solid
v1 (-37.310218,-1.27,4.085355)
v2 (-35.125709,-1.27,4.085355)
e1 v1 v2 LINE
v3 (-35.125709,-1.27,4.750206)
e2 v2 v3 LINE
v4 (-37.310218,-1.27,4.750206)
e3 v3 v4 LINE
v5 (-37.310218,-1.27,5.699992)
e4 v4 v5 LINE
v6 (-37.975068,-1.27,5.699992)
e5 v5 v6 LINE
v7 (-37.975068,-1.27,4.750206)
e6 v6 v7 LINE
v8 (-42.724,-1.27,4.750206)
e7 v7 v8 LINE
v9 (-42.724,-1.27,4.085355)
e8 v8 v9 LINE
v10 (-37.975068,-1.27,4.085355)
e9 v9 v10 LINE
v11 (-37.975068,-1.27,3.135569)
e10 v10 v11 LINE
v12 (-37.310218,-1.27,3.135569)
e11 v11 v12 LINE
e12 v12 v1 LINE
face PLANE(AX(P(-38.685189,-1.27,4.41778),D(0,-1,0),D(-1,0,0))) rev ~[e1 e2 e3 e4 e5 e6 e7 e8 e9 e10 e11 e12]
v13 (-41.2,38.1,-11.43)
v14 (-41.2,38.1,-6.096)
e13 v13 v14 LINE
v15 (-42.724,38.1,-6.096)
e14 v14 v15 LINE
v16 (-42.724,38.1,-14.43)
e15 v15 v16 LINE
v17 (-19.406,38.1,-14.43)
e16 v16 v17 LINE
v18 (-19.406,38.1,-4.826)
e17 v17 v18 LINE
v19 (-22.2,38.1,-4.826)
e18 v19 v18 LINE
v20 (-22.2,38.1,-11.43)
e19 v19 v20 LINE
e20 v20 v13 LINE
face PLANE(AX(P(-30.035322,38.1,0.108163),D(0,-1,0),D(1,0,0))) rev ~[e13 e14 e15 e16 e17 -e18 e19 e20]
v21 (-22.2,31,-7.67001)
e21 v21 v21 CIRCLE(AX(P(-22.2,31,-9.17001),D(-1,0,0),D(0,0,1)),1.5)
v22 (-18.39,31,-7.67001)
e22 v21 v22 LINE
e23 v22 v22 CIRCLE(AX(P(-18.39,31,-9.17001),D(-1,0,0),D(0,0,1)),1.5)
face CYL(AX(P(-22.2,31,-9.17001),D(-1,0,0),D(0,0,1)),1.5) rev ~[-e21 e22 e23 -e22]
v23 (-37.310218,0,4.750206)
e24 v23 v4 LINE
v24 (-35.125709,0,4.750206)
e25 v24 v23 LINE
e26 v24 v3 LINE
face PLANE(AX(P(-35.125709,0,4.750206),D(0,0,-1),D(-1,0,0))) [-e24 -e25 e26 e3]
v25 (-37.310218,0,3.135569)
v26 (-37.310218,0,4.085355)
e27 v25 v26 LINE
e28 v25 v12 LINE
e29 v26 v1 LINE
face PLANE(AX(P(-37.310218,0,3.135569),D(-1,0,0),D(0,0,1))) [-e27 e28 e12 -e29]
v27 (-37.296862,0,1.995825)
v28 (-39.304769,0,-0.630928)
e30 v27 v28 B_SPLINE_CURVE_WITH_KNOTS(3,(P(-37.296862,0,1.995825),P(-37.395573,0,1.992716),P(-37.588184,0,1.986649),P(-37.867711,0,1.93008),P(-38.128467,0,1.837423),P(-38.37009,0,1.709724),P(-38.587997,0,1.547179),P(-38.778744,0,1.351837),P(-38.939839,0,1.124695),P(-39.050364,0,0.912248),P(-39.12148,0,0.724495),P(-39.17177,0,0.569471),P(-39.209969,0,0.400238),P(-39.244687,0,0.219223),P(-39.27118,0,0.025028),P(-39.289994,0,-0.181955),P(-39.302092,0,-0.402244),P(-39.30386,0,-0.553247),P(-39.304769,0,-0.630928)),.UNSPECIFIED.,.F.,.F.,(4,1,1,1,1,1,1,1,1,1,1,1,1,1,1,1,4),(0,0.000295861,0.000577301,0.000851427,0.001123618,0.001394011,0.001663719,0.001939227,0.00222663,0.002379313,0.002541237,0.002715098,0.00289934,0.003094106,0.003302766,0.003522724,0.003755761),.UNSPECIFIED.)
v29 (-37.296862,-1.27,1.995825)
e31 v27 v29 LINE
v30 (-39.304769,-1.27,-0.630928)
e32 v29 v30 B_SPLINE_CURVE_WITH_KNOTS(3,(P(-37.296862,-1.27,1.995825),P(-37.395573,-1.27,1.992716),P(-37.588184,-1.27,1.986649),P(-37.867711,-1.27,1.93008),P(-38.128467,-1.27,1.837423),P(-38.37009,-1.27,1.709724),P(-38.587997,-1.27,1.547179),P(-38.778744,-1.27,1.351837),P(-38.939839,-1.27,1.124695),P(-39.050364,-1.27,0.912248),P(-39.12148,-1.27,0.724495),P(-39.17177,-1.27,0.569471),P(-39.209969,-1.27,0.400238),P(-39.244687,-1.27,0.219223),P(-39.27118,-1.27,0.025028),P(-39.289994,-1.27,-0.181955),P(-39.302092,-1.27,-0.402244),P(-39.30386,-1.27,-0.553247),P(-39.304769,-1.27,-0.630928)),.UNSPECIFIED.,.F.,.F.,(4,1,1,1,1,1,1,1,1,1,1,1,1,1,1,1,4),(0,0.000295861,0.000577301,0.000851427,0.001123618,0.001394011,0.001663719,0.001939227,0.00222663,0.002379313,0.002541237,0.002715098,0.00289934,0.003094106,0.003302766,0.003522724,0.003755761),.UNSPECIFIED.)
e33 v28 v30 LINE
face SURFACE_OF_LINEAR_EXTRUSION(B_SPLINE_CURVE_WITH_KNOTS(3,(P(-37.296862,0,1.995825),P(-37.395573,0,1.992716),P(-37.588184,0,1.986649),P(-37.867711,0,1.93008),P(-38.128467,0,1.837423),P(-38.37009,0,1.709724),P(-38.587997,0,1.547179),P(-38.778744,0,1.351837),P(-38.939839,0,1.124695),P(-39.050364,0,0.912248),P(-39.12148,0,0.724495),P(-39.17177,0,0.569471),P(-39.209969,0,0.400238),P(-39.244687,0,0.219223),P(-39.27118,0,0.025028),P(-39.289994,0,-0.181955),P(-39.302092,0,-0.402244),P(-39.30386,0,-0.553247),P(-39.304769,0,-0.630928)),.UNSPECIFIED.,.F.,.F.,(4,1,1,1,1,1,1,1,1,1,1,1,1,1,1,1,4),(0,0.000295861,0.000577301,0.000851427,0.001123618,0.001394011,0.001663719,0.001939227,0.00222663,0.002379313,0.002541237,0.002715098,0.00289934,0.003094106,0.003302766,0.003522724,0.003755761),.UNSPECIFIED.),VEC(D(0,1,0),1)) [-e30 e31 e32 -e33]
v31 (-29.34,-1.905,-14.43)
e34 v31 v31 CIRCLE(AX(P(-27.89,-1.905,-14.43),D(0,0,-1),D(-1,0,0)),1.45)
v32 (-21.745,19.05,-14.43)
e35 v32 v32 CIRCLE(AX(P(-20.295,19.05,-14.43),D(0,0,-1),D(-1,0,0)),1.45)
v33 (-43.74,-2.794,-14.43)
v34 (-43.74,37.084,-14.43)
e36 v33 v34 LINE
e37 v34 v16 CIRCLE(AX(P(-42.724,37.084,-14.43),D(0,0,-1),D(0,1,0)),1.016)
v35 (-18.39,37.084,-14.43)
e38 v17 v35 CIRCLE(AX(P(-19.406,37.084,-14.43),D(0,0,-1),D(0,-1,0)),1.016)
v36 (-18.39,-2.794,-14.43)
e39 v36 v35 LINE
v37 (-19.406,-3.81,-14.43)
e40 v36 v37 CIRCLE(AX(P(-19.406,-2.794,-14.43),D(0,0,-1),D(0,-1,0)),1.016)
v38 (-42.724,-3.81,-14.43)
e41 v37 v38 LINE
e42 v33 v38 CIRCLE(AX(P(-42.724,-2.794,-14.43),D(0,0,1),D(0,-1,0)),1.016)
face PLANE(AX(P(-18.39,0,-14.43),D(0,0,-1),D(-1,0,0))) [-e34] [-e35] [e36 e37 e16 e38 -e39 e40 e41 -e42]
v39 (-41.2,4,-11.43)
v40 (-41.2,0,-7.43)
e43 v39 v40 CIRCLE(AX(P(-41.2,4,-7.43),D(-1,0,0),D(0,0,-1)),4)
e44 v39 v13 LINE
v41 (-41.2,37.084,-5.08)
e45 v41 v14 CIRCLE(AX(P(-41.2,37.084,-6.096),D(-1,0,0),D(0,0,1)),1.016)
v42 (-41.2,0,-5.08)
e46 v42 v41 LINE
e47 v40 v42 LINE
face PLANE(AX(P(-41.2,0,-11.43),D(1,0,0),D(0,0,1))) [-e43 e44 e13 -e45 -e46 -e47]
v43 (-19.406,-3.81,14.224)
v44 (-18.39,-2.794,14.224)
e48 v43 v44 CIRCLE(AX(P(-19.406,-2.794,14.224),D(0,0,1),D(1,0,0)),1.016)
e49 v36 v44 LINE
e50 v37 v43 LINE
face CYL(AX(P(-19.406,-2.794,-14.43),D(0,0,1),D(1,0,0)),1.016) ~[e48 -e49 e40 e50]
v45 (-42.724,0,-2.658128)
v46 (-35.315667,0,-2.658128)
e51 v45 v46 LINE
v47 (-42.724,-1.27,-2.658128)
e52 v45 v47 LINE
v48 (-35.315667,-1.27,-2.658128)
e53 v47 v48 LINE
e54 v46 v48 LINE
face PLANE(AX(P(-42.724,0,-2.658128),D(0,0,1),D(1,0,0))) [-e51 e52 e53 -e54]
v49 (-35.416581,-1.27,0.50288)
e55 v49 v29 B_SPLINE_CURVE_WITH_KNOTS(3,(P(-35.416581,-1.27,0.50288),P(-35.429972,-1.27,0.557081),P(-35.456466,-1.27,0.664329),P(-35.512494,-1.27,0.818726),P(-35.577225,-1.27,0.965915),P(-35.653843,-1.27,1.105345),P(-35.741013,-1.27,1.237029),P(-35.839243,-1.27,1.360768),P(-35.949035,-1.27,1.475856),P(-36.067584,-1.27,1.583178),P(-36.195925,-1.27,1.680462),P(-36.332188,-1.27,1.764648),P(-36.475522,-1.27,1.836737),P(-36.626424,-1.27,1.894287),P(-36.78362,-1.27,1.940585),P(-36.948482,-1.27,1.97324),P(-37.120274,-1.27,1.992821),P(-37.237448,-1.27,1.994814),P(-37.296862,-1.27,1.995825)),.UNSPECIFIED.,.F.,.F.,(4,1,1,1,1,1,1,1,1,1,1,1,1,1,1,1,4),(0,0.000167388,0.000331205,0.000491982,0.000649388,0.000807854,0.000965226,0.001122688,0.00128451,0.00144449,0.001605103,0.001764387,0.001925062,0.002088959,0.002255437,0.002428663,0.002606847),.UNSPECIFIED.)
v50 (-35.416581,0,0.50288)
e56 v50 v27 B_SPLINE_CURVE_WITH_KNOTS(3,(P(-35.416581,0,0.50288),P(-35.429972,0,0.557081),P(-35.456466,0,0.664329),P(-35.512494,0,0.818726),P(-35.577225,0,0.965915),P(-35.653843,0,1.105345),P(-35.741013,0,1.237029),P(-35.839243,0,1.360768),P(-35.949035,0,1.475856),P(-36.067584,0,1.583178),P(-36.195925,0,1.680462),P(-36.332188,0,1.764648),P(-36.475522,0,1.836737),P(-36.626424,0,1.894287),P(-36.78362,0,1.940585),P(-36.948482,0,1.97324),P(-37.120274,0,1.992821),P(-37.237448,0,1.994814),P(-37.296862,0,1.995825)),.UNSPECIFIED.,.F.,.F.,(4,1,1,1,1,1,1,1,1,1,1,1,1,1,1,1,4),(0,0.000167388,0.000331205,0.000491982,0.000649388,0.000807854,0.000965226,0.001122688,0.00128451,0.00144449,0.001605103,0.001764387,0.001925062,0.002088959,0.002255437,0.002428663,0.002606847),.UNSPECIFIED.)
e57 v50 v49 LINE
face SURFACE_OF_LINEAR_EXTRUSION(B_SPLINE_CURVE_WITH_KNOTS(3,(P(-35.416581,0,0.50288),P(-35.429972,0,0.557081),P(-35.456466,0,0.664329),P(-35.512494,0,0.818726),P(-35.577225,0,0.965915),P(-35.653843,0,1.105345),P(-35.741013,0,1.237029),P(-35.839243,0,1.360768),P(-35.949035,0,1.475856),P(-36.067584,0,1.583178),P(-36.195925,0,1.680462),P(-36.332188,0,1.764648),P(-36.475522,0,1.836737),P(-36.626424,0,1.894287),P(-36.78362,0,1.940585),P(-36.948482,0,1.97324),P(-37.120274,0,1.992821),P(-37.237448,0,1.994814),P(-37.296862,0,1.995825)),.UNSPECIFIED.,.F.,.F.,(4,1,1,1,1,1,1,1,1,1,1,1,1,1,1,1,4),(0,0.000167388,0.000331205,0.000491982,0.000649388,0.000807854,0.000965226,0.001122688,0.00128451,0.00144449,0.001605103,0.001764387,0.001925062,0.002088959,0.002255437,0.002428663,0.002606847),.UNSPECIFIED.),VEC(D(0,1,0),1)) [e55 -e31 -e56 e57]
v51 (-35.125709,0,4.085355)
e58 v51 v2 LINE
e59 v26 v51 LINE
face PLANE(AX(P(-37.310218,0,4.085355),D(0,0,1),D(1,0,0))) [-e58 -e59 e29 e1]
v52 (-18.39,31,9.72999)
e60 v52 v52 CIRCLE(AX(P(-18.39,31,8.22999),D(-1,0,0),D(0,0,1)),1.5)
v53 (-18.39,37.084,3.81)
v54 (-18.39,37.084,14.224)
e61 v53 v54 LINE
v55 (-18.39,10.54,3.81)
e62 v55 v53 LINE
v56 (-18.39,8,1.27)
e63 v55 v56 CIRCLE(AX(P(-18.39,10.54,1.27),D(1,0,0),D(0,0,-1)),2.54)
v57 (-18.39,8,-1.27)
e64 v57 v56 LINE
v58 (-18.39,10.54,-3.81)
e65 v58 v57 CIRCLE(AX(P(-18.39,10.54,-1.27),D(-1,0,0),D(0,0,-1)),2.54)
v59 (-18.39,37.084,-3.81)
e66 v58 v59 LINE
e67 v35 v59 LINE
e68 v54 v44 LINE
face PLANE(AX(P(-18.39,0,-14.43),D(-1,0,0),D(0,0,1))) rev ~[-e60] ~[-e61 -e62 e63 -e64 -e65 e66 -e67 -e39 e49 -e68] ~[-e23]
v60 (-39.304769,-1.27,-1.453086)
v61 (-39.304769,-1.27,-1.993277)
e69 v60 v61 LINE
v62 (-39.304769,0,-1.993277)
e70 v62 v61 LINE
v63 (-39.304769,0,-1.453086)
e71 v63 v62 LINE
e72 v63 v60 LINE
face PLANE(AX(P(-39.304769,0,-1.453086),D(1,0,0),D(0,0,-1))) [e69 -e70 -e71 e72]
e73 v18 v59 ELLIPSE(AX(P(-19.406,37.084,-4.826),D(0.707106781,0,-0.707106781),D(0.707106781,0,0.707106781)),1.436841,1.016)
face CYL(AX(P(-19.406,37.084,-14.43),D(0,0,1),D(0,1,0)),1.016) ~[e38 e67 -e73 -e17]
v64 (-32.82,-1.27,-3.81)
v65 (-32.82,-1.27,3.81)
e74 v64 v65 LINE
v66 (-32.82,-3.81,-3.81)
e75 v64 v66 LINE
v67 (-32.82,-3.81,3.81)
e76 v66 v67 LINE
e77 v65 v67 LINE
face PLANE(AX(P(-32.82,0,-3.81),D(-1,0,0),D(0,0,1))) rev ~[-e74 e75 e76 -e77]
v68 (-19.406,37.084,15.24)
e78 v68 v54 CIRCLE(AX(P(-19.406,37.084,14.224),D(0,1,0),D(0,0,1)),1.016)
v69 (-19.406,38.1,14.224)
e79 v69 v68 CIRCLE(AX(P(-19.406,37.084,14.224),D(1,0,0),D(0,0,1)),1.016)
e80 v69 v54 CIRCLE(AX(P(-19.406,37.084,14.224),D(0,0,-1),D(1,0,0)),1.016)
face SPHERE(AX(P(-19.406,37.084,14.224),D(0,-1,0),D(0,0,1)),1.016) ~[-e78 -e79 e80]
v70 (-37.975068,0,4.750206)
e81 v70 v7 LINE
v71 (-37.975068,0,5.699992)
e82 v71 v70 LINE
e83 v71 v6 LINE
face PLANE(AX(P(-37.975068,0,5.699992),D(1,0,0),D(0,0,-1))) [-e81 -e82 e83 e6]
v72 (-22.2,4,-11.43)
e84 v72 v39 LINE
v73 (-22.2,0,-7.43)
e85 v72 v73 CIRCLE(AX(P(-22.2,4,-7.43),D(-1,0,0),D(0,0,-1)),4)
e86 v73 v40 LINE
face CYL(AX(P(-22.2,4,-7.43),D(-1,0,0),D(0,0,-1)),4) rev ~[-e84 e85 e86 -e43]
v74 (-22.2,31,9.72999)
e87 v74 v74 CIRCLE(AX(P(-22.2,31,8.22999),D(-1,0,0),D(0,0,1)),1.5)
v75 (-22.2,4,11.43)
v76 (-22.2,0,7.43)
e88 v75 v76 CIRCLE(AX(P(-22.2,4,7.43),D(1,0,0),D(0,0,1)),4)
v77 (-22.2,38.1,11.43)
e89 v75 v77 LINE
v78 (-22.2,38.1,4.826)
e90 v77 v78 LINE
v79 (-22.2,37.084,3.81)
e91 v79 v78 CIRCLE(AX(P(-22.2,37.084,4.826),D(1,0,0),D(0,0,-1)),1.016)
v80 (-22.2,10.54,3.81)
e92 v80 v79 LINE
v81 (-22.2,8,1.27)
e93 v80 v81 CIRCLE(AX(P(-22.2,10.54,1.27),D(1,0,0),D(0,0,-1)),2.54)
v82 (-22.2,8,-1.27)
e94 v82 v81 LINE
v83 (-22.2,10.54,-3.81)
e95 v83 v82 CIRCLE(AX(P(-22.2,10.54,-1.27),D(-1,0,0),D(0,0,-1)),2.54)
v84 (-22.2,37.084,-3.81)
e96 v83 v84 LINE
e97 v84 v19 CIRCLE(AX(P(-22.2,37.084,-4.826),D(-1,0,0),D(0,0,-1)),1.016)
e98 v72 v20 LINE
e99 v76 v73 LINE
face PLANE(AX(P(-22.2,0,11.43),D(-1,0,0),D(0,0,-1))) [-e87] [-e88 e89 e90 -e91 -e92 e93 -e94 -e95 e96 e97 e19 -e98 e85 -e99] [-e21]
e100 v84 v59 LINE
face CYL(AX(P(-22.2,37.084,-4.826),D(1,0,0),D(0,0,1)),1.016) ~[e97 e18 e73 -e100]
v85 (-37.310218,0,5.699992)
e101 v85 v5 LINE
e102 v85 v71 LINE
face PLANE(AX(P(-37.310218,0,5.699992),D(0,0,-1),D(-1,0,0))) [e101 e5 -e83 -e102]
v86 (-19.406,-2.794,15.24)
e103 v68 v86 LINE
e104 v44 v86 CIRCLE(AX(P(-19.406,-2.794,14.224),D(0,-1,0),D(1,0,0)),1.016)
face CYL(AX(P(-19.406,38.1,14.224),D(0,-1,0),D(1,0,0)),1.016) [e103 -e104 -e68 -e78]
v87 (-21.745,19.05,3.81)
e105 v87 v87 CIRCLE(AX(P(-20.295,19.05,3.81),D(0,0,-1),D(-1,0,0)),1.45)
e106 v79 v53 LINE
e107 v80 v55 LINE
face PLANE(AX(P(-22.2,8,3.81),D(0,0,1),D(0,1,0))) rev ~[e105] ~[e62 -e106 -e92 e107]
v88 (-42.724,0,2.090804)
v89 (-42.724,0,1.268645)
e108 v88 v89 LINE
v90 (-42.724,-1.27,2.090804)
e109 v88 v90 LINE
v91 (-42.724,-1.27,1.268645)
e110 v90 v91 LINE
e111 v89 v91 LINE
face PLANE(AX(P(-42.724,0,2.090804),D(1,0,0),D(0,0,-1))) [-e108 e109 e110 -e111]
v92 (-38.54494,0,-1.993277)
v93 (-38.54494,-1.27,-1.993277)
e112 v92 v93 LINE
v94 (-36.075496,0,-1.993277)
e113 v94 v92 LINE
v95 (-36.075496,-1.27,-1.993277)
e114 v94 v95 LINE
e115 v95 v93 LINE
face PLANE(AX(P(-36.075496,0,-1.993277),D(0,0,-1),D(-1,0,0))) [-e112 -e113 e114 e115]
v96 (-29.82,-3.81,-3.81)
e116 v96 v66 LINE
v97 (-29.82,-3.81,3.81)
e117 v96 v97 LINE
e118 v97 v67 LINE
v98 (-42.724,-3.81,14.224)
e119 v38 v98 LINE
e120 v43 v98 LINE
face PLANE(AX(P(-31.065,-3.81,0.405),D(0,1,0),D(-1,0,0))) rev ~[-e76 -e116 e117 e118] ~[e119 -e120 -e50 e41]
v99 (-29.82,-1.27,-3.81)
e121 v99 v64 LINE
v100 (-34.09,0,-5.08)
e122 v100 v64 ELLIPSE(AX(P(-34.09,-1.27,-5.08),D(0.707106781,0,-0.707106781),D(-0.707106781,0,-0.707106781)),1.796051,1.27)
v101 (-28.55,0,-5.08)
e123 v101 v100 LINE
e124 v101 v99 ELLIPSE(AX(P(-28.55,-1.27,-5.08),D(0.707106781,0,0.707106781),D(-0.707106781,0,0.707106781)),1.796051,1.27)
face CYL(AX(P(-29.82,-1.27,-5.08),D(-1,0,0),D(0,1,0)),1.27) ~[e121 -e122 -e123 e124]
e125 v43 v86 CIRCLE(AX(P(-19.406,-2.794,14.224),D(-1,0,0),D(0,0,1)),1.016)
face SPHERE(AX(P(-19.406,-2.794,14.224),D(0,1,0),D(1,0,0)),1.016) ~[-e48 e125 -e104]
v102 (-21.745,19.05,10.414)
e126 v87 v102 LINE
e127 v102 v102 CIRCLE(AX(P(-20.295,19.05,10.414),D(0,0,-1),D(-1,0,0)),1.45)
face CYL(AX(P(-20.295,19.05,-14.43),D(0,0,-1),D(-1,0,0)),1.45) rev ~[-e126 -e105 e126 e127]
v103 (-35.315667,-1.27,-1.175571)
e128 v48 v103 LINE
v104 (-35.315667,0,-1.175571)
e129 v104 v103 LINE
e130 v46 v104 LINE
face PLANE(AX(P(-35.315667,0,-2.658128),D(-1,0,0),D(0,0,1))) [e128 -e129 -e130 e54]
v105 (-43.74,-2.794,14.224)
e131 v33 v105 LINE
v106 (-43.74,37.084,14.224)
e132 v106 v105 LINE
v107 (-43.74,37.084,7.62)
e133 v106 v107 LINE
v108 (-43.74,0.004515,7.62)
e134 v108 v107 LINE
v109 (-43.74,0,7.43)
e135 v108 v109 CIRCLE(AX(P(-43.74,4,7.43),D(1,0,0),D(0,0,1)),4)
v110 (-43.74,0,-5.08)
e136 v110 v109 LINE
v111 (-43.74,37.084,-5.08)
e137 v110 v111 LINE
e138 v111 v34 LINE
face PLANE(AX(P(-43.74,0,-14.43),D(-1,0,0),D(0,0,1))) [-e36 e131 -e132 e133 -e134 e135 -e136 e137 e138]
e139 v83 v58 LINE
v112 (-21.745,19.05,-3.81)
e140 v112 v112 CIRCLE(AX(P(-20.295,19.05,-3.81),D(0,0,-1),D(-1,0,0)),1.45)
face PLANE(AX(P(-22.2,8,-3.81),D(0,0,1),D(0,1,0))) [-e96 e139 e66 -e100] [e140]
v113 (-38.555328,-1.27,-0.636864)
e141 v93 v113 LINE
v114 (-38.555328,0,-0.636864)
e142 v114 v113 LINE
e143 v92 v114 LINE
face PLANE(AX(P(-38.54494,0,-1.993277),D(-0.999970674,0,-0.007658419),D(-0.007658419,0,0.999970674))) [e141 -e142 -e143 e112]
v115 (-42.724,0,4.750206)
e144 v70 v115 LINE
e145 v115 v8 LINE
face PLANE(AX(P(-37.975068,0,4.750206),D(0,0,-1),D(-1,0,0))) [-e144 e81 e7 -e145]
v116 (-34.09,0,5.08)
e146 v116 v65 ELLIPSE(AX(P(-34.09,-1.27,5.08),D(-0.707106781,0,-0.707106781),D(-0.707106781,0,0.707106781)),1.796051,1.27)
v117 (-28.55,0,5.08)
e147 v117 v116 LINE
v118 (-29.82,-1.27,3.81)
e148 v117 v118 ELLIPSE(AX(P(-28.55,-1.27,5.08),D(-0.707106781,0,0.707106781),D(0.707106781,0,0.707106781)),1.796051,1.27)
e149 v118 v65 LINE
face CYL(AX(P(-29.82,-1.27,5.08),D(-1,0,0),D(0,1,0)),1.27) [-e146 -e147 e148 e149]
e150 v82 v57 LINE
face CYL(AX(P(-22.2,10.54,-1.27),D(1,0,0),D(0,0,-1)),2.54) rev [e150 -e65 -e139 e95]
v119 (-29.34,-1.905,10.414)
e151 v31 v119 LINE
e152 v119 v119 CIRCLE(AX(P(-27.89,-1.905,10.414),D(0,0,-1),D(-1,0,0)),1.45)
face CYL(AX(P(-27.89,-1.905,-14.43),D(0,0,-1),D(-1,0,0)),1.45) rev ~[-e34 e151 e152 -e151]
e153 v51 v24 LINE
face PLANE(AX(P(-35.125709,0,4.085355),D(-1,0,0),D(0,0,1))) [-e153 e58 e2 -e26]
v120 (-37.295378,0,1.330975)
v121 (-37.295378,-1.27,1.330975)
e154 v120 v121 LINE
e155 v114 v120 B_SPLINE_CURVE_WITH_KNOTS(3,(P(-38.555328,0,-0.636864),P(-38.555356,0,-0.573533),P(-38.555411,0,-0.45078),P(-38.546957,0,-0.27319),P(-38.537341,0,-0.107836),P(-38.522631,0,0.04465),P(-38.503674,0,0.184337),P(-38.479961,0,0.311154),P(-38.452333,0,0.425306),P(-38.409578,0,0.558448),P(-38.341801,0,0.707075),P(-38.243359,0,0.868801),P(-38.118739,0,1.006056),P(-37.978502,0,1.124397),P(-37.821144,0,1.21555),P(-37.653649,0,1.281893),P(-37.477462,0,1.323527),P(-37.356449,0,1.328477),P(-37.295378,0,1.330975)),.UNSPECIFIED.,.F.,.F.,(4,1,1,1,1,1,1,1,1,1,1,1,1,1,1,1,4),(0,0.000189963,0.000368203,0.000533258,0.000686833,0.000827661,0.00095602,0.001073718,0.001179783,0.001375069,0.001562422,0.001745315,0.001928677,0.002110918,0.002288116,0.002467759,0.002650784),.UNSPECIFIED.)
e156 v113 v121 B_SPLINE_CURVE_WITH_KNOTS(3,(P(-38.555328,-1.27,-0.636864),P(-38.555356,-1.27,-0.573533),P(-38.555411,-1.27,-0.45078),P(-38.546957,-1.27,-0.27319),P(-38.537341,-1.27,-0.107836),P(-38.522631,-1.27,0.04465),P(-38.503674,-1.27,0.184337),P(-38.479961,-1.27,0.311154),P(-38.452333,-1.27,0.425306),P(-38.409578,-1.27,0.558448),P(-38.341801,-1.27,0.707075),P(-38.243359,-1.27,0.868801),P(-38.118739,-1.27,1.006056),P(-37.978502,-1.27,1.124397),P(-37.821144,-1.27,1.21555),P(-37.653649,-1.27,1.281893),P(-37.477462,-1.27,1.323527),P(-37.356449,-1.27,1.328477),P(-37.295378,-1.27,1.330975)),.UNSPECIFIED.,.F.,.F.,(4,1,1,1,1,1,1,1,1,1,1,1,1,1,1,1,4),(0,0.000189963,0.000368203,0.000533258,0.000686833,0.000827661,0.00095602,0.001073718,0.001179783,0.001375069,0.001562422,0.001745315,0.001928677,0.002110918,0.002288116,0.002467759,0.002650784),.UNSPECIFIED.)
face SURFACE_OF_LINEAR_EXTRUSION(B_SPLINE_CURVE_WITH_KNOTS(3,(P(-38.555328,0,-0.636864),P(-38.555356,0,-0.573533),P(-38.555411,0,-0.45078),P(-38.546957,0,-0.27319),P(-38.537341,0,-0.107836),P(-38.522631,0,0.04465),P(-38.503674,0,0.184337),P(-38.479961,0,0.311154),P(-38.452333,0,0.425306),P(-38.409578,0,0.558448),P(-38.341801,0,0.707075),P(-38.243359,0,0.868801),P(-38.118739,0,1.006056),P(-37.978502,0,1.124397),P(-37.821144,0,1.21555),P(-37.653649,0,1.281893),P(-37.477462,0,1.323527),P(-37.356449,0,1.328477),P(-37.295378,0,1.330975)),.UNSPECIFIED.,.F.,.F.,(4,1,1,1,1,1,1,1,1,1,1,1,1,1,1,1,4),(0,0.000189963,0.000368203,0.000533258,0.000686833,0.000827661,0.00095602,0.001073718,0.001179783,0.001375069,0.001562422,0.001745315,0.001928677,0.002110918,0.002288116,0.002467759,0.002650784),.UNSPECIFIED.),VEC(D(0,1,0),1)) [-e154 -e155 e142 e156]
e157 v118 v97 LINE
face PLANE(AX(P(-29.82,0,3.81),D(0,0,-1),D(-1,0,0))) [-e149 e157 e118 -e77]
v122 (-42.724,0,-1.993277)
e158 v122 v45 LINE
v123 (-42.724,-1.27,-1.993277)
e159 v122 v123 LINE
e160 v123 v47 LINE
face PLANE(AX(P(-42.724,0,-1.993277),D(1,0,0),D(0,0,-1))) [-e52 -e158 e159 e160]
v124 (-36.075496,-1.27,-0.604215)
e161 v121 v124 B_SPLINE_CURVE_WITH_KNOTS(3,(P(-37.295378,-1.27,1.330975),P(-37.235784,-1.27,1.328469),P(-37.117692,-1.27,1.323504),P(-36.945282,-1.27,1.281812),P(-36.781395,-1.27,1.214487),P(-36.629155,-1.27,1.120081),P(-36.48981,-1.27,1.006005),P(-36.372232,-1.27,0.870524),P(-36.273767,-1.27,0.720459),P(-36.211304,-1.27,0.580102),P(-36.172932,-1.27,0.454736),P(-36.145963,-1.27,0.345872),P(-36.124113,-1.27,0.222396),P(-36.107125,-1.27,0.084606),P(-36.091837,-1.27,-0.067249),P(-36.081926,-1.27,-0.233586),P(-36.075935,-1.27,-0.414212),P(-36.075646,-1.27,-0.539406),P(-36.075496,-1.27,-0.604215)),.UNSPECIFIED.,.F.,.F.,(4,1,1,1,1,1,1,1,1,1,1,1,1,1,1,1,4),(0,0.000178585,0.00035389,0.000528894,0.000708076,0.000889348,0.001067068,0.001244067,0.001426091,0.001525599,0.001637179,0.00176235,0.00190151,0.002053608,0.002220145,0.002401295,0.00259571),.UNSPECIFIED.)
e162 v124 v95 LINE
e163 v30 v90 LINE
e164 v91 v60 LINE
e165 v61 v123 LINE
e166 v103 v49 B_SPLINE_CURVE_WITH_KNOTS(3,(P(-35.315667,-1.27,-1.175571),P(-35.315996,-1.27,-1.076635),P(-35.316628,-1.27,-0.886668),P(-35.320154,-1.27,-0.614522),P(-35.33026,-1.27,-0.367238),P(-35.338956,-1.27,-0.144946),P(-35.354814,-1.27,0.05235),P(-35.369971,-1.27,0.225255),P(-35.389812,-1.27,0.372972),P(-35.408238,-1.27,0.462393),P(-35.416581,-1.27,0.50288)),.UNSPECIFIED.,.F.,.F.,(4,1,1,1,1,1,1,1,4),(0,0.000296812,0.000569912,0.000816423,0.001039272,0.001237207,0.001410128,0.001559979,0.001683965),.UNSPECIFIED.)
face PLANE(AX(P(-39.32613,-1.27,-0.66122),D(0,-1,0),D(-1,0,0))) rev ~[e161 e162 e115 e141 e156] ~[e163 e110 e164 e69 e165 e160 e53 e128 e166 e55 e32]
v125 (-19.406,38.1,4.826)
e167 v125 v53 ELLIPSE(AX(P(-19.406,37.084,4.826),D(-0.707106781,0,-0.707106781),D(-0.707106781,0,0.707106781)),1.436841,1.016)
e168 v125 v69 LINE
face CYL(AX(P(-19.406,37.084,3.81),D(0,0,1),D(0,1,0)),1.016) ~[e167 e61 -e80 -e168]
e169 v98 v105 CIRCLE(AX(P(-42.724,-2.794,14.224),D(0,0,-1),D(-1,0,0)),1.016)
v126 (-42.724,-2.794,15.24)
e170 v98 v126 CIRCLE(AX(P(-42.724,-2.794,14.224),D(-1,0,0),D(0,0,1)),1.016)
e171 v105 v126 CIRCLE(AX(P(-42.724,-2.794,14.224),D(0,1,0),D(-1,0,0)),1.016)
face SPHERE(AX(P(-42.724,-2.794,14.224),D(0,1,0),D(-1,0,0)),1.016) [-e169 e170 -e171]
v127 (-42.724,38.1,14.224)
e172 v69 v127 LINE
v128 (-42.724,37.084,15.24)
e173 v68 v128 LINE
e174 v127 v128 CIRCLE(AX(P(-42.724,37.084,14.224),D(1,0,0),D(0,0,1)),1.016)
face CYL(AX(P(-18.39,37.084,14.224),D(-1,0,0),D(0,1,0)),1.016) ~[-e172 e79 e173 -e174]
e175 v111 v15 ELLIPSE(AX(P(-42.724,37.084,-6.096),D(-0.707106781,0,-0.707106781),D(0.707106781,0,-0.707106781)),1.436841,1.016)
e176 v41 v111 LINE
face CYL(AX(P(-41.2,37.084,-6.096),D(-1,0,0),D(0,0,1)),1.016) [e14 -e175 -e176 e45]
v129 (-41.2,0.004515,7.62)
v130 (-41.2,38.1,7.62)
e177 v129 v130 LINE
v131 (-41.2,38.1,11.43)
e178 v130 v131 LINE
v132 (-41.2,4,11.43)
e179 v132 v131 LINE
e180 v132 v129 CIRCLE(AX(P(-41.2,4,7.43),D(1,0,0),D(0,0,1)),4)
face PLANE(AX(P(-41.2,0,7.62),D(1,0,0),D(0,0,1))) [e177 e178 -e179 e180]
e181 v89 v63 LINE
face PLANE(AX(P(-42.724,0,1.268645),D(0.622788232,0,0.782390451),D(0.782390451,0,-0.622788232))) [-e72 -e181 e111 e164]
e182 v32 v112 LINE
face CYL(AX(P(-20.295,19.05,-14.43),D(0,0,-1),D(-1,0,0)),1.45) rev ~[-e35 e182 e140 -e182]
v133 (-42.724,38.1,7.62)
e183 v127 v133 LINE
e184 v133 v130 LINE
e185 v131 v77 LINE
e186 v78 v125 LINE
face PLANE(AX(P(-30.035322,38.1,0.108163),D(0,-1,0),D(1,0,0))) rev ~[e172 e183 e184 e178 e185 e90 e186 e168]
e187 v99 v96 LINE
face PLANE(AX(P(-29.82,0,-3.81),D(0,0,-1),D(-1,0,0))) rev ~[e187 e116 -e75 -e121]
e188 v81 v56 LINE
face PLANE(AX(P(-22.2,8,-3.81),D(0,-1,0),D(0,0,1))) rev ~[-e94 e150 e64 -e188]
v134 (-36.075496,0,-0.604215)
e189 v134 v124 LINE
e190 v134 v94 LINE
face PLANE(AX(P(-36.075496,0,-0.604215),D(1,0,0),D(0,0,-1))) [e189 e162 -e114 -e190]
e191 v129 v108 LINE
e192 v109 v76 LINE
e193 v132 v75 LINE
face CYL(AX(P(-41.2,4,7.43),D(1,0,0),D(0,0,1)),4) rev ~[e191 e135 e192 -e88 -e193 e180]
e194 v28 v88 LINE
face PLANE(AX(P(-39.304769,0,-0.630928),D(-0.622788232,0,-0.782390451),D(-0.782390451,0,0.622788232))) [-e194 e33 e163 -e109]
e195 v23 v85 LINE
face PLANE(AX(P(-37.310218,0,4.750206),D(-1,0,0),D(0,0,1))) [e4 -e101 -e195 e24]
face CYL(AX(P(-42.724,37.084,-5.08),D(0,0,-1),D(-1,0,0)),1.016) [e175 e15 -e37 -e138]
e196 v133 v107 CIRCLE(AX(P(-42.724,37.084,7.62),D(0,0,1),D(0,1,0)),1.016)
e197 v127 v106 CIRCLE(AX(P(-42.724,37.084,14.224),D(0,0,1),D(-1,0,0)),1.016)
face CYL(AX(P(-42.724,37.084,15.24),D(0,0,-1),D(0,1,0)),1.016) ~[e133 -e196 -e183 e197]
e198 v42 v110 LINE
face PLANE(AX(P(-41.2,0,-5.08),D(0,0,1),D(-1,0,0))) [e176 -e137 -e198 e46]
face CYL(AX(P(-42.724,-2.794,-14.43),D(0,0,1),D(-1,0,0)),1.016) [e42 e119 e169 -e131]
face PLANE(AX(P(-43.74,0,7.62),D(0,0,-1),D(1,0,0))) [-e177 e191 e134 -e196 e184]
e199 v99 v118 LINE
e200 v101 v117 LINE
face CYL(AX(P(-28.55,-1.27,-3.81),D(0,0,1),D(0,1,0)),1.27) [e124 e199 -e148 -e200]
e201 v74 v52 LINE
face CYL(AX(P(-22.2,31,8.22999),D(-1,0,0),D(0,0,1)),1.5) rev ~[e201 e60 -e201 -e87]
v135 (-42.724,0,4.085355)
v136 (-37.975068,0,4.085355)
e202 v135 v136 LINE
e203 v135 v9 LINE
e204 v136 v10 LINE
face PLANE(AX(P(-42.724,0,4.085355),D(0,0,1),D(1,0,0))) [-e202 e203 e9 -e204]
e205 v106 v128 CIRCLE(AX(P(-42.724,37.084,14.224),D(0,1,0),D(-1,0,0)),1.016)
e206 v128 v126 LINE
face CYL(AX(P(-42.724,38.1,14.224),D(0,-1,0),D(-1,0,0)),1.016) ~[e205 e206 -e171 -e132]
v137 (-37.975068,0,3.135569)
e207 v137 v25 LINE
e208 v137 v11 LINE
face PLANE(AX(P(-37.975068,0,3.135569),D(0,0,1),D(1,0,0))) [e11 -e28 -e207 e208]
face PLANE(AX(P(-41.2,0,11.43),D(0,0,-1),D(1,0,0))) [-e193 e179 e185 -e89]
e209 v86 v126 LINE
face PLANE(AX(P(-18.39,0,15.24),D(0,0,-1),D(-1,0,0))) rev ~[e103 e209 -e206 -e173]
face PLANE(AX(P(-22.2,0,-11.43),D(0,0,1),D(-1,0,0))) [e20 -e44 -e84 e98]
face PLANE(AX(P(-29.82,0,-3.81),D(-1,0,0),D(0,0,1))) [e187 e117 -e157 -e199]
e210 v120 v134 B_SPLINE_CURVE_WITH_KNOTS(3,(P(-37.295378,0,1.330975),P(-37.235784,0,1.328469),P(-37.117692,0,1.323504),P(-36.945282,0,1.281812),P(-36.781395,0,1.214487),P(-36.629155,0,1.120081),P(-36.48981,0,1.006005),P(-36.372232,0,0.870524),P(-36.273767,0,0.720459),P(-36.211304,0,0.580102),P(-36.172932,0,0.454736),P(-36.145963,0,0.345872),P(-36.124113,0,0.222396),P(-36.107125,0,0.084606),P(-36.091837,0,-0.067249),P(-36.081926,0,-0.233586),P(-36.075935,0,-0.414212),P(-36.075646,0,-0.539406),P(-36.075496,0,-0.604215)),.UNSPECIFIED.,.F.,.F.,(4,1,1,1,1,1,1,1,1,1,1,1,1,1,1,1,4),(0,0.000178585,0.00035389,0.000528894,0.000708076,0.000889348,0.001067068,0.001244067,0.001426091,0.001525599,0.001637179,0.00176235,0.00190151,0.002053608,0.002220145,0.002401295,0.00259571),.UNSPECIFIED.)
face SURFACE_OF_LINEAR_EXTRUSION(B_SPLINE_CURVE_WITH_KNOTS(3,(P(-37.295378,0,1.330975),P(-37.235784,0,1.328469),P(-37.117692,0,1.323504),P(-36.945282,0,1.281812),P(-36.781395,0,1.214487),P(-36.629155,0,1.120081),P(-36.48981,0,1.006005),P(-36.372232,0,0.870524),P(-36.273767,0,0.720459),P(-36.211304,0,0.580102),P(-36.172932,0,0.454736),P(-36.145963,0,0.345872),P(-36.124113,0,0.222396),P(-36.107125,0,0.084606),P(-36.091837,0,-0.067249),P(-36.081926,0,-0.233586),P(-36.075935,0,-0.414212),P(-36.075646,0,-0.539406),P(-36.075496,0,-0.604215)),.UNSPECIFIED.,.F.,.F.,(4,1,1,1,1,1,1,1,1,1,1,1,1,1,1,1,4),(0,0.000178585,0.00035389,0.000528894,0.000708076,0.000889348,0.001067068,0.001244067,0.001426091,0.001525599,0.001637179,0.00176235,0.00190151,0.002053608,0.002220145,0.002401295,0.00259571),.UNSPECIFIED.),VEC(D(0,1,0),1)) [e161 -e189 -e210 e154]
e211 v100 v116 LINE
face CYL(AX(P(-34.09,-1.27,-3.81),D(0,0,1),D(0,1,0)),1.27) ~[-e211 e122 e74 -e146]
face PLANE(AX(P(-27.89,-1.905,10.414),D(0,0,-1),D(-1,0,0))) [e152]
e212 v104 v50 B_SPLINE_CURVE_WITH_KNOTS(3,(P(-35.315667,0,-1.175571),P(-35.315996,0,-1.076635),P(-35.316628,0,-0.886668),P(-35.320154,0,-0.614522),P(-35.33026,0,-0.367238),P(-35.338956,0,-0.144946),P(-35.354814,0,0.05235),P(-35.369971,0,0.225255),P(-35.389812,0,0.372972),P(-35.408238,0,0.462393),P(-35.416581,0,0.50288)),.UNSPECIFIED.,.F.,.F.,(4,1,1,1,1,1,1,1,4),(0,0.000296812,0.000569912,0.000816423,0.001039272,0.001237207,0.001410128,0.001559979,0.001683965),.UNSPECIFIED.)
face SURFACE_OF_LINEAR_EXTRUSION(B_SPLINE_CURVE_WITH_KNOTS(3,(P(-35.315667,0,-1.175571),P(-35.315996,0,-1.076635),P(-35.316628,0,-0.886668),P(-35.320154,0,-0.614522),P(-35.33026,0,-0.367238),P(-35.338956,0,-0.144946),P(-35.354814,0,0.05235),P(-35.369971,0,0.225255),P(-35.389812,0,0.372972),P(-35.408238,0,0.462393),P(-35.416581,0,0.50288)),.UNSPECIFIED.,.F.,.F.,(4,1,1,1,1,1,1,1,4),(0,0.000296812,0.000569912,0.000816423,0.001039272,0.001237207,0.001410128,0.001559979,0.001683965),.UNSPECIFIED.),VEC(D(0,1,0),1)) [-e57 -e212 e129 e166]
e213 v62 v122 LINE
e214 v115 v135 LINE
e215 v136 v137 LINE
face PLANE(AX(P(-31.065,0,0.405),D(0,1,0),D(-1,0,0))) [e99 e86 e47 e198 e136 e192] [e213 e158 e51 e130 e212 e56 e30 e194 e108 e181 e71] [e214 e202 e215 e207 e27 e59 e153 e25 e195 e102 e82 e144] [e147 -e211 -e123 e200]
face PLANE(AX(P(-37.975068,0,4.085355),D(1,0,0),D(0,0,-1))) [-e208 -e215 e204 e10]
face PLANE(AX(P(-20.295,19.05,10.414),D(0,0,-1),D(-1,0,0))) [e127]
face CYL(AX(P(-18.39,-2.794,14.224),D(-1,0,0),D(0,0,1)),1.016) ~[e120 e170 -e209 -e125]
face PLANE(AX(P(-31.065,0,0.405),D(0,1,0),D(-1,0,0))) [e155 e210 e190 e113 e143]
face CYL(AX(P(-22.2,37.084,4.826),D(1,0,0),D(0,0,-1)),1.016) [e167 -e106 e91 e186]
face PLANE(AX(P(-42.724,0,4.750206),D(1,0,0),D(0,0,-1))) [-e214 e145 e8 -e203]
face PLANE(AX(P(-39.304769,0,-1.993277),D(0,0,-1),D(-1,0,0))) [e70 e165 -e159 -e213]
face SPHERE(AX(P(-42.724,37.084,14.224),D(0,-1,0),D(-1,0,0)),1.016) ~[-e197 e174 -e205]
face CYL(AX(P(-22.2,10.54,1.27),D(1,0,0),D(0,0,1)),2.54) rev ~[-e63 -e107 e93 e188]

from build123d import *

# Parameters (mm, degrees)
BOSS_EXTRUDE2_DEPTH = 38.1
SKETCH1_W           = 25.35
SKETCH1_H           = 29.67
BOSS_EXTRUDE3_DEPTH = 3.81
SKETCH3_W           = 3
SKETCH3_H           = 7.62
CUT_EXTRUDE1_DEPTH  = 4.81
SKETCH4_W           = 7.62
SKETCH4_H           = 30.1
CUT_EXTRUDE2_DEPTH  = 4.81
SKETCH5_R           = 1.5
CUT_EXTRUDE3_DEPTH  = 4.81
SKETCH6_R           = 1.45
CUT_EXTRUDE4_DEPTH  = 24.844
FILLET1_R           = 4
FILLET4_R           = 2.54
FILLET2_R           = 1.016
FILLET3_R           = 1.27
FILLET5_R           = 1.016
CUT_EXTRUDE5_DEPTH  = 1.27
CUT_EXTRUDE6_DEPTH  = 1.27


with BuildPart() as part:
    # Sketch2 → Boss-Extrude2 (new body)
    with BuildSketch(Plane(origin=(0, 0, 0), x_dir=(1, 0, 0), z_dir=(0, 1, 0))):
        Polygon((-9.5, -11.43), (9.5, -11.43), (9.5, -5.08), (12.04, -5.08), (12.04, -14.43), (-13.31, -14.43), (-13.31, 15.24), (12.04, 15.24), (12.04, 7.62), (9.5, 7.62), (9.5, 11.43), (-9.5, 11.43), align=None)
    extrude(amount=BOSS_EXTRUDE2_DEPTH)

    # Sketch1 → Boss-Extrude3 (add)
    with BuildSketch(Plane(origin=(0, 0, 0), x_dir=(1, 0, 0), z_dir=(0, 1, 0))):
        with Locations((-0.635, 0.405)):
            Rectangle(SKETCH1_W, SKETCH1_H)
    extrude(amount=-BOSS_EXTRUDE3_DEPTH)

    # Sketch3 → Cut-Extrude1 (cut, through all)
    with BuildSketch(Plane(origin=(0, 0, 0), x_dir=(1, 0, 0), z_dir=(0, 1, 0))):
        with Locations((-0.38, 0)):
            Rectangle(SKETCH3_W, SKETCH3_H)
    extrude(amount=-CUT_EXTRUDE1_DEPTH, mode=Mode.SUBTRACT)

    # Sketch4 → Cut-Extrude2 (cut, through all)
    with BuildSketch(Plane(origin=(-9.5, 0, 0), x_dir=(0, 0, -1), z_dir=(1, 0, 0))):
        with Locations((0, 23.05)):
            Rectangle(SKETCH4_W, SKETCH4_H)
    extrude(amount=-CUT_EXTRUDE2_DEPTH, mode=Mode.SUBTRACT)

    # Sketch5 → Cut-Extrude3 (cut, through all)
    with BuildSketch(Plane(origin=(-9.5, 0, 0), x_dir=(0, 0, -1), z_dir=(1, 0, 0))):
        with Locations((-9.1700096, 31)):
            Circle(SKETCH5_R)
        with Locations((8.2299904, 31)):
            Circle(SKETCH5_R)
    extrude(amount=-CUT_EXTRUDE3_DEPTH, mode=Mode.SUBTRACT)

    # Sketch6 → Cut-Extrude4 (cut)
    with BuildSketch(Plane.XY.offset(14.43)):
        with Locations((-11.405, 19.05)):
            Circle(SKETCH6_R)
        with Locations((-3.81, -1.905)):
            Circle(SKETCH6_R)
    extrude(amount=-CUT_EXTRUDE4_DEPTH, mode=Mode.SUBTRACT)

    # Fillet1
    fillet1_edges = [part.edges().sort_by_distance(p)[0] for p in [
        (0, 0, -11.43),
        (0, 0, 11.43),
    ]]
    fillet(fillet1_edges, radius=FILLET1_R)


with BuildPart() as body_2:
    # Mirror1: mirrored copy
    add(part.part.mirror(Plane.XY))

    # Fillet4
    fillet4_edges = [body_2.edges().sort_by_distance(p)[0] for p in [
        (-11.405, 8, -3.81),
        (-11.405, 8, 3.81),
    ]]
    fillet(fillet4_edges, radius=FILLET4_R)

    # Fillet2
    fillet2_edges = [body_2.edges().sort_by_distance(p)[0] for p in [
        (-13.31, 17.145, 15.24),
        (12.04, 17.145, 15.24),
        (12.04, -3.81, 0.405),
        (-13.31, -3.81, 0.405),
        (-0.635, -3.81, 15.24),
        (12.04, 38.1, 11.43),
        (-0.635, 38.1, 15.24),
        (-13.31, 38.1, 9.525),
        (-13.31, 38.1, -9.12),
        (-11.405, 38.1, -3.81),
        (-11.405, 38.1, 3.81),
    ]]
    fillet(fillet2_edges, radius=FILLET2_R)

    # Fillet3
    fillet3_edges = [body_2.edges().sort_by_distance(p)[0] for p in [
        (-1.88, 0, 0),
        (-0.38, 0, -3.81),
        (1.12, 0, 0),
        (-0.38, 0, 3.81),
    ]]
    fillet(fillet3_edges, radius=FILLET3_R)

    # Fillet5
    fillet5_edges = [body_2.edges().sort_by_distance(p)[0] for p in [
        (12.04, 38.1, -9.755),
        (10.77, 38.1, -5.08),
    ]]
    fillet(fillet5_edges, radius=FILLET5_R)


with BuildPart() as body_2_2:
    # Mirror3: mirrored copy
    add(body_2.part.mirror(Plane.ZY.offset(15.85)))

    # Sketch8 → Cut-Extrude6 (cut)
    with BuildSketch(Plane(origin=(0, 0, 0), x_dir=(1, 0, 0), z_dir=(0, 1, 0))):
        Polygon((-35.125709402, -4.085355142), (-35.125709402, -4.750205569), (-37.310217949, -4.750205569), (-37.310217949, -5.699991894), (-37.975068376, -5.699991894), (-37.975068376, -4.750205569), (-42.724, -4.750205569), (-42.724, -4.085355142), (-37.975068376, -4.085355142), (-37.975068376, -3.135568817), (-37.310217949, -3.135568817), (-37.310217949, -4.085355142), align=None)
        with BuildLine():
            Line((-35.315666667, 2.658127764), (-35.315666667, 1.175570673))
            add(Edge.make_bspline(
                [(-35.315666667, 1.175570673), (-35.31599599, 1.076635284), (-35.316628328, 0.886668378), (-35.320154193, 0.614521623), (-35.330259913, 0.367237601), (-35.338956414, 0.144945608), (-35.354814357, -0.052350279), (-35.36997106, -0.225255044), (-35.389811975, -0.372972337), (-35.408238454, -0.462392723), (-35.416581464, -0.502879848)],
                knots=[0, 0, 0, 0, 0.000296812, 0.000569912, 0.000816423, 0.001039272, 0.001237207, 0.001410128, 0.001559979, 0.001683965, 0.001683965, 0.001683965, 0.001683965], degree=3))
            add(Edge.make_bspline(
                [(-35.416581464, -0.502879848), (-35.429971598, -0.557081491), (-35.456466218, -0.664328507), (-35.512494413, -0.81872563), (-35.577224639, -0.965915382), (-35.653842803, -1.105345402), (-35.741012521, -1.237028627), (-35.839243094, -1.360767889), (-35.949034771, -1.475855736), (-36.067583937, -1.583177714), (-36.195924968, -1.680461633), (-36.332188282, -1.764648136), (-36.475521634, -1.836736616), (-36.626424162, -1.894287018), (-36.783620234, -1.940584552), (-36.948482467, -1.973239748), (-37.120273858, -1.992820602), (-37.237448007, -1.99481431), (-37.296861579, -1.995825227)],
                knots=[0, 0, 0, 0, 0.000167388, 0.000331205, 0.000491982, 0.000649388, 0.000807854, 0.000965226, 0.001122688, 0.00128451, 0.00144449, 0.001605103, 0.001764387, 0.001925062, 0.002088959, 0.002255437, 0.002428663, 0.002606847, 0.002606847, 0.002606847, 0.002606847], degree=3))
            add(Edge.make_bspline(
                [(-37.296861579, -1.995825227), (-37.395572664, -1.992715929), (-37.588183557, -1.986648882), (-37.867710836, -1.930079619), (-38.128467354, -1.83742344), (-38.370090229, -1.709723959), (-38.587996871, -1.547178937), (-38.778744039, -1.351836783), (-38.939838712, -1.124695094), (-39.050363857, -0.91224832), (-39.121480472, -0.724494941), (-39.171769577, -0.569470973), (-39.209969011, -0.400237622), (-39.244686959, -0.219222799), (-39.271179543, -0.025028326), (-39.289994312, 0.181954737), (-39.302092352, 0.402244067), (-39.303859928, 0.553246562), (-39.304769231, 0.630927577)],
                knots=[0, 0, 0, 0, 0.000295861, 0.000577301, 0.000851427, 0.001123618, 0.001394011, 0.001663719, 0.001939227, 0.00222663, 0.002379313, 0.002541237, 0.002715098, 0.00289934, 0.003094106, 0.003302766, 0.003522724, 0.003755761, 0.003755761, 0.003755761, 0.003755761], degree=3))
            Line((-39.304769231, 0.630927577), (-42.724, -2.09080386))
            Line((-42.724, -2.09080386), (-42.724, -1.268645072))
            Line((-42.724, -1.268645072), (-39.304769231, 1.453086364))
            Line((-39.304769231, 1.453086364), (-39.304769231, 1.993277337))
            Line((-39.304769231, 1.993277337), (-42.724, 1.993277337))
            Line((-42.724, 1.993277337), (-42.724, 2.658127764))
            Line((-42.724, 2.658127764), (-35.315666667, 2.658127764))
        make_face()
        with BuildLine():
            Line((-36.075495726, 1.993277337), (-38.544940171, 1.993277337))
            Line((-38.544940171, 1.993277337), (-38.555328459, 0.636863742))
            add(Edge.make_bspline(
                [(-38.555328459, 0.636863742), (-38.555356476, 0.573532993), (-38.555410782, 0.450779964), (-38.546957292, 0.27319022), (-38.537340592, 0.107835996), (-38.522631175, -0.044650303), (-38.503674054, -0.184336572), (-38.479961405, -0.31115373), (-38.452333452, -0.425306376), (-38.409577922, -0.55844757), (-38.341800903, -0.707074645), (-38.243358644, -0.86880077), (-38.118738571, -1.006056387), (-37.978502281, -1.124397331), (-37.821144229, -1.215549999), (-37.653648946, -1.281893149), (-37.477462473, -1.323527172), (-37.356448737, -1.328476869), (-37.295377537, -1.3309748)],
                knots=[0, 0, 0, 0, 0.000189963, 0.000368203, 0.000533258, 0.000686833, 0.000827661, 0.00095602, 0.001073718, 0.001179783, 0.001375069, 0.001562422, 0.001745315, 0.001928677, 0.002110918, 0.002288116, 0.002467759, 0.002650784, 0.002650784, 0.002650784, 0.002650784], degree=3))
            add(Edge.make_bspline(
                [(-37.295377537, -1.3309748), (-37.235784101, -1.328469191), (-37.117691657, -1.323503988), (-36.945281883, -1.281812481), (-36.781395026, -1.214486794), (-36.629154879, -1.120080599), (-36.489810496, -1.006005192), (-36.372231955, -0.870523684), (-36.27376678, -0.720459089), (-36.211303642, -0.580102451), (-36.172931546, -0.454736188), (-36.145962748, -0.345871562), (-36.124112719, -0.222396299), (-36.107124734, -0.084606312), (-36.091837488, 0.067249114), (-36.081925643, 0.233585788), (-36.075934923, 0.414211629), (-36.075645532, 0.539406498), (-36.075495726, 0.604214837)],
                knots=[0, 0, 0, 0, 0.000178585, 0.00035389, 0.000528894, 0.000708076, 0.000889348, 0.001067068, 0.001244067, 0.001426091, 0.001525599, 0.001637179, 0.00176235, 0.00190151, 0.002053608, 0.002220145, 0.002401295, 0.00259571, 0.00259571, 0.00259571, 0.00259571], degree=3))
            Line((-36.075495726, 0.604214837), (-36.075495726, 1.993277337))
        make_face(mode=Mode.SUBTRACT)
    extrude(amount=-CUT_EXTRUDE6_DEPTH, mode=Mode.SUBTRACT)


with BuildPart() as body_2_1:
    add(body_2.part)

    # Sketch7 → Cut-Extrude5 (cut)
    with BuildSketch(Plane(origin=(0, 0, 0), x_dir=(1, 0, 0), z_dir=(0, 1, 0))):
        Polygon((4.129986879, -2.992887734), (4.129986879, -2.328037307), (10.778491153, -2.328037307), (10.778491153, 0.521321667), (11.538320213, 0.521321667), (11.538320213, -2.992887734), align=None)
        Polygon((3.940029614, 2.230937052), (3.940029614, 2.895787479), (6.124538161, 2.895787479), (6.124538161, 3.845573804), (6.789388589, 3.845573804), (6.789388589, 2.895787479), (11.538320213, 2.895787479), (11.538320213, 2.230937052), (6.789388589, 2.230937052), (6.789388589, 1.281150727), (6.124538161, 1.281150727), (6.124538161, 2.230937052), align=None)
    extrude(amount=-CUT_EXTRUDE5_DEPTH, mode=Mode.SUBTRACT)


solid = body_2_2.part
